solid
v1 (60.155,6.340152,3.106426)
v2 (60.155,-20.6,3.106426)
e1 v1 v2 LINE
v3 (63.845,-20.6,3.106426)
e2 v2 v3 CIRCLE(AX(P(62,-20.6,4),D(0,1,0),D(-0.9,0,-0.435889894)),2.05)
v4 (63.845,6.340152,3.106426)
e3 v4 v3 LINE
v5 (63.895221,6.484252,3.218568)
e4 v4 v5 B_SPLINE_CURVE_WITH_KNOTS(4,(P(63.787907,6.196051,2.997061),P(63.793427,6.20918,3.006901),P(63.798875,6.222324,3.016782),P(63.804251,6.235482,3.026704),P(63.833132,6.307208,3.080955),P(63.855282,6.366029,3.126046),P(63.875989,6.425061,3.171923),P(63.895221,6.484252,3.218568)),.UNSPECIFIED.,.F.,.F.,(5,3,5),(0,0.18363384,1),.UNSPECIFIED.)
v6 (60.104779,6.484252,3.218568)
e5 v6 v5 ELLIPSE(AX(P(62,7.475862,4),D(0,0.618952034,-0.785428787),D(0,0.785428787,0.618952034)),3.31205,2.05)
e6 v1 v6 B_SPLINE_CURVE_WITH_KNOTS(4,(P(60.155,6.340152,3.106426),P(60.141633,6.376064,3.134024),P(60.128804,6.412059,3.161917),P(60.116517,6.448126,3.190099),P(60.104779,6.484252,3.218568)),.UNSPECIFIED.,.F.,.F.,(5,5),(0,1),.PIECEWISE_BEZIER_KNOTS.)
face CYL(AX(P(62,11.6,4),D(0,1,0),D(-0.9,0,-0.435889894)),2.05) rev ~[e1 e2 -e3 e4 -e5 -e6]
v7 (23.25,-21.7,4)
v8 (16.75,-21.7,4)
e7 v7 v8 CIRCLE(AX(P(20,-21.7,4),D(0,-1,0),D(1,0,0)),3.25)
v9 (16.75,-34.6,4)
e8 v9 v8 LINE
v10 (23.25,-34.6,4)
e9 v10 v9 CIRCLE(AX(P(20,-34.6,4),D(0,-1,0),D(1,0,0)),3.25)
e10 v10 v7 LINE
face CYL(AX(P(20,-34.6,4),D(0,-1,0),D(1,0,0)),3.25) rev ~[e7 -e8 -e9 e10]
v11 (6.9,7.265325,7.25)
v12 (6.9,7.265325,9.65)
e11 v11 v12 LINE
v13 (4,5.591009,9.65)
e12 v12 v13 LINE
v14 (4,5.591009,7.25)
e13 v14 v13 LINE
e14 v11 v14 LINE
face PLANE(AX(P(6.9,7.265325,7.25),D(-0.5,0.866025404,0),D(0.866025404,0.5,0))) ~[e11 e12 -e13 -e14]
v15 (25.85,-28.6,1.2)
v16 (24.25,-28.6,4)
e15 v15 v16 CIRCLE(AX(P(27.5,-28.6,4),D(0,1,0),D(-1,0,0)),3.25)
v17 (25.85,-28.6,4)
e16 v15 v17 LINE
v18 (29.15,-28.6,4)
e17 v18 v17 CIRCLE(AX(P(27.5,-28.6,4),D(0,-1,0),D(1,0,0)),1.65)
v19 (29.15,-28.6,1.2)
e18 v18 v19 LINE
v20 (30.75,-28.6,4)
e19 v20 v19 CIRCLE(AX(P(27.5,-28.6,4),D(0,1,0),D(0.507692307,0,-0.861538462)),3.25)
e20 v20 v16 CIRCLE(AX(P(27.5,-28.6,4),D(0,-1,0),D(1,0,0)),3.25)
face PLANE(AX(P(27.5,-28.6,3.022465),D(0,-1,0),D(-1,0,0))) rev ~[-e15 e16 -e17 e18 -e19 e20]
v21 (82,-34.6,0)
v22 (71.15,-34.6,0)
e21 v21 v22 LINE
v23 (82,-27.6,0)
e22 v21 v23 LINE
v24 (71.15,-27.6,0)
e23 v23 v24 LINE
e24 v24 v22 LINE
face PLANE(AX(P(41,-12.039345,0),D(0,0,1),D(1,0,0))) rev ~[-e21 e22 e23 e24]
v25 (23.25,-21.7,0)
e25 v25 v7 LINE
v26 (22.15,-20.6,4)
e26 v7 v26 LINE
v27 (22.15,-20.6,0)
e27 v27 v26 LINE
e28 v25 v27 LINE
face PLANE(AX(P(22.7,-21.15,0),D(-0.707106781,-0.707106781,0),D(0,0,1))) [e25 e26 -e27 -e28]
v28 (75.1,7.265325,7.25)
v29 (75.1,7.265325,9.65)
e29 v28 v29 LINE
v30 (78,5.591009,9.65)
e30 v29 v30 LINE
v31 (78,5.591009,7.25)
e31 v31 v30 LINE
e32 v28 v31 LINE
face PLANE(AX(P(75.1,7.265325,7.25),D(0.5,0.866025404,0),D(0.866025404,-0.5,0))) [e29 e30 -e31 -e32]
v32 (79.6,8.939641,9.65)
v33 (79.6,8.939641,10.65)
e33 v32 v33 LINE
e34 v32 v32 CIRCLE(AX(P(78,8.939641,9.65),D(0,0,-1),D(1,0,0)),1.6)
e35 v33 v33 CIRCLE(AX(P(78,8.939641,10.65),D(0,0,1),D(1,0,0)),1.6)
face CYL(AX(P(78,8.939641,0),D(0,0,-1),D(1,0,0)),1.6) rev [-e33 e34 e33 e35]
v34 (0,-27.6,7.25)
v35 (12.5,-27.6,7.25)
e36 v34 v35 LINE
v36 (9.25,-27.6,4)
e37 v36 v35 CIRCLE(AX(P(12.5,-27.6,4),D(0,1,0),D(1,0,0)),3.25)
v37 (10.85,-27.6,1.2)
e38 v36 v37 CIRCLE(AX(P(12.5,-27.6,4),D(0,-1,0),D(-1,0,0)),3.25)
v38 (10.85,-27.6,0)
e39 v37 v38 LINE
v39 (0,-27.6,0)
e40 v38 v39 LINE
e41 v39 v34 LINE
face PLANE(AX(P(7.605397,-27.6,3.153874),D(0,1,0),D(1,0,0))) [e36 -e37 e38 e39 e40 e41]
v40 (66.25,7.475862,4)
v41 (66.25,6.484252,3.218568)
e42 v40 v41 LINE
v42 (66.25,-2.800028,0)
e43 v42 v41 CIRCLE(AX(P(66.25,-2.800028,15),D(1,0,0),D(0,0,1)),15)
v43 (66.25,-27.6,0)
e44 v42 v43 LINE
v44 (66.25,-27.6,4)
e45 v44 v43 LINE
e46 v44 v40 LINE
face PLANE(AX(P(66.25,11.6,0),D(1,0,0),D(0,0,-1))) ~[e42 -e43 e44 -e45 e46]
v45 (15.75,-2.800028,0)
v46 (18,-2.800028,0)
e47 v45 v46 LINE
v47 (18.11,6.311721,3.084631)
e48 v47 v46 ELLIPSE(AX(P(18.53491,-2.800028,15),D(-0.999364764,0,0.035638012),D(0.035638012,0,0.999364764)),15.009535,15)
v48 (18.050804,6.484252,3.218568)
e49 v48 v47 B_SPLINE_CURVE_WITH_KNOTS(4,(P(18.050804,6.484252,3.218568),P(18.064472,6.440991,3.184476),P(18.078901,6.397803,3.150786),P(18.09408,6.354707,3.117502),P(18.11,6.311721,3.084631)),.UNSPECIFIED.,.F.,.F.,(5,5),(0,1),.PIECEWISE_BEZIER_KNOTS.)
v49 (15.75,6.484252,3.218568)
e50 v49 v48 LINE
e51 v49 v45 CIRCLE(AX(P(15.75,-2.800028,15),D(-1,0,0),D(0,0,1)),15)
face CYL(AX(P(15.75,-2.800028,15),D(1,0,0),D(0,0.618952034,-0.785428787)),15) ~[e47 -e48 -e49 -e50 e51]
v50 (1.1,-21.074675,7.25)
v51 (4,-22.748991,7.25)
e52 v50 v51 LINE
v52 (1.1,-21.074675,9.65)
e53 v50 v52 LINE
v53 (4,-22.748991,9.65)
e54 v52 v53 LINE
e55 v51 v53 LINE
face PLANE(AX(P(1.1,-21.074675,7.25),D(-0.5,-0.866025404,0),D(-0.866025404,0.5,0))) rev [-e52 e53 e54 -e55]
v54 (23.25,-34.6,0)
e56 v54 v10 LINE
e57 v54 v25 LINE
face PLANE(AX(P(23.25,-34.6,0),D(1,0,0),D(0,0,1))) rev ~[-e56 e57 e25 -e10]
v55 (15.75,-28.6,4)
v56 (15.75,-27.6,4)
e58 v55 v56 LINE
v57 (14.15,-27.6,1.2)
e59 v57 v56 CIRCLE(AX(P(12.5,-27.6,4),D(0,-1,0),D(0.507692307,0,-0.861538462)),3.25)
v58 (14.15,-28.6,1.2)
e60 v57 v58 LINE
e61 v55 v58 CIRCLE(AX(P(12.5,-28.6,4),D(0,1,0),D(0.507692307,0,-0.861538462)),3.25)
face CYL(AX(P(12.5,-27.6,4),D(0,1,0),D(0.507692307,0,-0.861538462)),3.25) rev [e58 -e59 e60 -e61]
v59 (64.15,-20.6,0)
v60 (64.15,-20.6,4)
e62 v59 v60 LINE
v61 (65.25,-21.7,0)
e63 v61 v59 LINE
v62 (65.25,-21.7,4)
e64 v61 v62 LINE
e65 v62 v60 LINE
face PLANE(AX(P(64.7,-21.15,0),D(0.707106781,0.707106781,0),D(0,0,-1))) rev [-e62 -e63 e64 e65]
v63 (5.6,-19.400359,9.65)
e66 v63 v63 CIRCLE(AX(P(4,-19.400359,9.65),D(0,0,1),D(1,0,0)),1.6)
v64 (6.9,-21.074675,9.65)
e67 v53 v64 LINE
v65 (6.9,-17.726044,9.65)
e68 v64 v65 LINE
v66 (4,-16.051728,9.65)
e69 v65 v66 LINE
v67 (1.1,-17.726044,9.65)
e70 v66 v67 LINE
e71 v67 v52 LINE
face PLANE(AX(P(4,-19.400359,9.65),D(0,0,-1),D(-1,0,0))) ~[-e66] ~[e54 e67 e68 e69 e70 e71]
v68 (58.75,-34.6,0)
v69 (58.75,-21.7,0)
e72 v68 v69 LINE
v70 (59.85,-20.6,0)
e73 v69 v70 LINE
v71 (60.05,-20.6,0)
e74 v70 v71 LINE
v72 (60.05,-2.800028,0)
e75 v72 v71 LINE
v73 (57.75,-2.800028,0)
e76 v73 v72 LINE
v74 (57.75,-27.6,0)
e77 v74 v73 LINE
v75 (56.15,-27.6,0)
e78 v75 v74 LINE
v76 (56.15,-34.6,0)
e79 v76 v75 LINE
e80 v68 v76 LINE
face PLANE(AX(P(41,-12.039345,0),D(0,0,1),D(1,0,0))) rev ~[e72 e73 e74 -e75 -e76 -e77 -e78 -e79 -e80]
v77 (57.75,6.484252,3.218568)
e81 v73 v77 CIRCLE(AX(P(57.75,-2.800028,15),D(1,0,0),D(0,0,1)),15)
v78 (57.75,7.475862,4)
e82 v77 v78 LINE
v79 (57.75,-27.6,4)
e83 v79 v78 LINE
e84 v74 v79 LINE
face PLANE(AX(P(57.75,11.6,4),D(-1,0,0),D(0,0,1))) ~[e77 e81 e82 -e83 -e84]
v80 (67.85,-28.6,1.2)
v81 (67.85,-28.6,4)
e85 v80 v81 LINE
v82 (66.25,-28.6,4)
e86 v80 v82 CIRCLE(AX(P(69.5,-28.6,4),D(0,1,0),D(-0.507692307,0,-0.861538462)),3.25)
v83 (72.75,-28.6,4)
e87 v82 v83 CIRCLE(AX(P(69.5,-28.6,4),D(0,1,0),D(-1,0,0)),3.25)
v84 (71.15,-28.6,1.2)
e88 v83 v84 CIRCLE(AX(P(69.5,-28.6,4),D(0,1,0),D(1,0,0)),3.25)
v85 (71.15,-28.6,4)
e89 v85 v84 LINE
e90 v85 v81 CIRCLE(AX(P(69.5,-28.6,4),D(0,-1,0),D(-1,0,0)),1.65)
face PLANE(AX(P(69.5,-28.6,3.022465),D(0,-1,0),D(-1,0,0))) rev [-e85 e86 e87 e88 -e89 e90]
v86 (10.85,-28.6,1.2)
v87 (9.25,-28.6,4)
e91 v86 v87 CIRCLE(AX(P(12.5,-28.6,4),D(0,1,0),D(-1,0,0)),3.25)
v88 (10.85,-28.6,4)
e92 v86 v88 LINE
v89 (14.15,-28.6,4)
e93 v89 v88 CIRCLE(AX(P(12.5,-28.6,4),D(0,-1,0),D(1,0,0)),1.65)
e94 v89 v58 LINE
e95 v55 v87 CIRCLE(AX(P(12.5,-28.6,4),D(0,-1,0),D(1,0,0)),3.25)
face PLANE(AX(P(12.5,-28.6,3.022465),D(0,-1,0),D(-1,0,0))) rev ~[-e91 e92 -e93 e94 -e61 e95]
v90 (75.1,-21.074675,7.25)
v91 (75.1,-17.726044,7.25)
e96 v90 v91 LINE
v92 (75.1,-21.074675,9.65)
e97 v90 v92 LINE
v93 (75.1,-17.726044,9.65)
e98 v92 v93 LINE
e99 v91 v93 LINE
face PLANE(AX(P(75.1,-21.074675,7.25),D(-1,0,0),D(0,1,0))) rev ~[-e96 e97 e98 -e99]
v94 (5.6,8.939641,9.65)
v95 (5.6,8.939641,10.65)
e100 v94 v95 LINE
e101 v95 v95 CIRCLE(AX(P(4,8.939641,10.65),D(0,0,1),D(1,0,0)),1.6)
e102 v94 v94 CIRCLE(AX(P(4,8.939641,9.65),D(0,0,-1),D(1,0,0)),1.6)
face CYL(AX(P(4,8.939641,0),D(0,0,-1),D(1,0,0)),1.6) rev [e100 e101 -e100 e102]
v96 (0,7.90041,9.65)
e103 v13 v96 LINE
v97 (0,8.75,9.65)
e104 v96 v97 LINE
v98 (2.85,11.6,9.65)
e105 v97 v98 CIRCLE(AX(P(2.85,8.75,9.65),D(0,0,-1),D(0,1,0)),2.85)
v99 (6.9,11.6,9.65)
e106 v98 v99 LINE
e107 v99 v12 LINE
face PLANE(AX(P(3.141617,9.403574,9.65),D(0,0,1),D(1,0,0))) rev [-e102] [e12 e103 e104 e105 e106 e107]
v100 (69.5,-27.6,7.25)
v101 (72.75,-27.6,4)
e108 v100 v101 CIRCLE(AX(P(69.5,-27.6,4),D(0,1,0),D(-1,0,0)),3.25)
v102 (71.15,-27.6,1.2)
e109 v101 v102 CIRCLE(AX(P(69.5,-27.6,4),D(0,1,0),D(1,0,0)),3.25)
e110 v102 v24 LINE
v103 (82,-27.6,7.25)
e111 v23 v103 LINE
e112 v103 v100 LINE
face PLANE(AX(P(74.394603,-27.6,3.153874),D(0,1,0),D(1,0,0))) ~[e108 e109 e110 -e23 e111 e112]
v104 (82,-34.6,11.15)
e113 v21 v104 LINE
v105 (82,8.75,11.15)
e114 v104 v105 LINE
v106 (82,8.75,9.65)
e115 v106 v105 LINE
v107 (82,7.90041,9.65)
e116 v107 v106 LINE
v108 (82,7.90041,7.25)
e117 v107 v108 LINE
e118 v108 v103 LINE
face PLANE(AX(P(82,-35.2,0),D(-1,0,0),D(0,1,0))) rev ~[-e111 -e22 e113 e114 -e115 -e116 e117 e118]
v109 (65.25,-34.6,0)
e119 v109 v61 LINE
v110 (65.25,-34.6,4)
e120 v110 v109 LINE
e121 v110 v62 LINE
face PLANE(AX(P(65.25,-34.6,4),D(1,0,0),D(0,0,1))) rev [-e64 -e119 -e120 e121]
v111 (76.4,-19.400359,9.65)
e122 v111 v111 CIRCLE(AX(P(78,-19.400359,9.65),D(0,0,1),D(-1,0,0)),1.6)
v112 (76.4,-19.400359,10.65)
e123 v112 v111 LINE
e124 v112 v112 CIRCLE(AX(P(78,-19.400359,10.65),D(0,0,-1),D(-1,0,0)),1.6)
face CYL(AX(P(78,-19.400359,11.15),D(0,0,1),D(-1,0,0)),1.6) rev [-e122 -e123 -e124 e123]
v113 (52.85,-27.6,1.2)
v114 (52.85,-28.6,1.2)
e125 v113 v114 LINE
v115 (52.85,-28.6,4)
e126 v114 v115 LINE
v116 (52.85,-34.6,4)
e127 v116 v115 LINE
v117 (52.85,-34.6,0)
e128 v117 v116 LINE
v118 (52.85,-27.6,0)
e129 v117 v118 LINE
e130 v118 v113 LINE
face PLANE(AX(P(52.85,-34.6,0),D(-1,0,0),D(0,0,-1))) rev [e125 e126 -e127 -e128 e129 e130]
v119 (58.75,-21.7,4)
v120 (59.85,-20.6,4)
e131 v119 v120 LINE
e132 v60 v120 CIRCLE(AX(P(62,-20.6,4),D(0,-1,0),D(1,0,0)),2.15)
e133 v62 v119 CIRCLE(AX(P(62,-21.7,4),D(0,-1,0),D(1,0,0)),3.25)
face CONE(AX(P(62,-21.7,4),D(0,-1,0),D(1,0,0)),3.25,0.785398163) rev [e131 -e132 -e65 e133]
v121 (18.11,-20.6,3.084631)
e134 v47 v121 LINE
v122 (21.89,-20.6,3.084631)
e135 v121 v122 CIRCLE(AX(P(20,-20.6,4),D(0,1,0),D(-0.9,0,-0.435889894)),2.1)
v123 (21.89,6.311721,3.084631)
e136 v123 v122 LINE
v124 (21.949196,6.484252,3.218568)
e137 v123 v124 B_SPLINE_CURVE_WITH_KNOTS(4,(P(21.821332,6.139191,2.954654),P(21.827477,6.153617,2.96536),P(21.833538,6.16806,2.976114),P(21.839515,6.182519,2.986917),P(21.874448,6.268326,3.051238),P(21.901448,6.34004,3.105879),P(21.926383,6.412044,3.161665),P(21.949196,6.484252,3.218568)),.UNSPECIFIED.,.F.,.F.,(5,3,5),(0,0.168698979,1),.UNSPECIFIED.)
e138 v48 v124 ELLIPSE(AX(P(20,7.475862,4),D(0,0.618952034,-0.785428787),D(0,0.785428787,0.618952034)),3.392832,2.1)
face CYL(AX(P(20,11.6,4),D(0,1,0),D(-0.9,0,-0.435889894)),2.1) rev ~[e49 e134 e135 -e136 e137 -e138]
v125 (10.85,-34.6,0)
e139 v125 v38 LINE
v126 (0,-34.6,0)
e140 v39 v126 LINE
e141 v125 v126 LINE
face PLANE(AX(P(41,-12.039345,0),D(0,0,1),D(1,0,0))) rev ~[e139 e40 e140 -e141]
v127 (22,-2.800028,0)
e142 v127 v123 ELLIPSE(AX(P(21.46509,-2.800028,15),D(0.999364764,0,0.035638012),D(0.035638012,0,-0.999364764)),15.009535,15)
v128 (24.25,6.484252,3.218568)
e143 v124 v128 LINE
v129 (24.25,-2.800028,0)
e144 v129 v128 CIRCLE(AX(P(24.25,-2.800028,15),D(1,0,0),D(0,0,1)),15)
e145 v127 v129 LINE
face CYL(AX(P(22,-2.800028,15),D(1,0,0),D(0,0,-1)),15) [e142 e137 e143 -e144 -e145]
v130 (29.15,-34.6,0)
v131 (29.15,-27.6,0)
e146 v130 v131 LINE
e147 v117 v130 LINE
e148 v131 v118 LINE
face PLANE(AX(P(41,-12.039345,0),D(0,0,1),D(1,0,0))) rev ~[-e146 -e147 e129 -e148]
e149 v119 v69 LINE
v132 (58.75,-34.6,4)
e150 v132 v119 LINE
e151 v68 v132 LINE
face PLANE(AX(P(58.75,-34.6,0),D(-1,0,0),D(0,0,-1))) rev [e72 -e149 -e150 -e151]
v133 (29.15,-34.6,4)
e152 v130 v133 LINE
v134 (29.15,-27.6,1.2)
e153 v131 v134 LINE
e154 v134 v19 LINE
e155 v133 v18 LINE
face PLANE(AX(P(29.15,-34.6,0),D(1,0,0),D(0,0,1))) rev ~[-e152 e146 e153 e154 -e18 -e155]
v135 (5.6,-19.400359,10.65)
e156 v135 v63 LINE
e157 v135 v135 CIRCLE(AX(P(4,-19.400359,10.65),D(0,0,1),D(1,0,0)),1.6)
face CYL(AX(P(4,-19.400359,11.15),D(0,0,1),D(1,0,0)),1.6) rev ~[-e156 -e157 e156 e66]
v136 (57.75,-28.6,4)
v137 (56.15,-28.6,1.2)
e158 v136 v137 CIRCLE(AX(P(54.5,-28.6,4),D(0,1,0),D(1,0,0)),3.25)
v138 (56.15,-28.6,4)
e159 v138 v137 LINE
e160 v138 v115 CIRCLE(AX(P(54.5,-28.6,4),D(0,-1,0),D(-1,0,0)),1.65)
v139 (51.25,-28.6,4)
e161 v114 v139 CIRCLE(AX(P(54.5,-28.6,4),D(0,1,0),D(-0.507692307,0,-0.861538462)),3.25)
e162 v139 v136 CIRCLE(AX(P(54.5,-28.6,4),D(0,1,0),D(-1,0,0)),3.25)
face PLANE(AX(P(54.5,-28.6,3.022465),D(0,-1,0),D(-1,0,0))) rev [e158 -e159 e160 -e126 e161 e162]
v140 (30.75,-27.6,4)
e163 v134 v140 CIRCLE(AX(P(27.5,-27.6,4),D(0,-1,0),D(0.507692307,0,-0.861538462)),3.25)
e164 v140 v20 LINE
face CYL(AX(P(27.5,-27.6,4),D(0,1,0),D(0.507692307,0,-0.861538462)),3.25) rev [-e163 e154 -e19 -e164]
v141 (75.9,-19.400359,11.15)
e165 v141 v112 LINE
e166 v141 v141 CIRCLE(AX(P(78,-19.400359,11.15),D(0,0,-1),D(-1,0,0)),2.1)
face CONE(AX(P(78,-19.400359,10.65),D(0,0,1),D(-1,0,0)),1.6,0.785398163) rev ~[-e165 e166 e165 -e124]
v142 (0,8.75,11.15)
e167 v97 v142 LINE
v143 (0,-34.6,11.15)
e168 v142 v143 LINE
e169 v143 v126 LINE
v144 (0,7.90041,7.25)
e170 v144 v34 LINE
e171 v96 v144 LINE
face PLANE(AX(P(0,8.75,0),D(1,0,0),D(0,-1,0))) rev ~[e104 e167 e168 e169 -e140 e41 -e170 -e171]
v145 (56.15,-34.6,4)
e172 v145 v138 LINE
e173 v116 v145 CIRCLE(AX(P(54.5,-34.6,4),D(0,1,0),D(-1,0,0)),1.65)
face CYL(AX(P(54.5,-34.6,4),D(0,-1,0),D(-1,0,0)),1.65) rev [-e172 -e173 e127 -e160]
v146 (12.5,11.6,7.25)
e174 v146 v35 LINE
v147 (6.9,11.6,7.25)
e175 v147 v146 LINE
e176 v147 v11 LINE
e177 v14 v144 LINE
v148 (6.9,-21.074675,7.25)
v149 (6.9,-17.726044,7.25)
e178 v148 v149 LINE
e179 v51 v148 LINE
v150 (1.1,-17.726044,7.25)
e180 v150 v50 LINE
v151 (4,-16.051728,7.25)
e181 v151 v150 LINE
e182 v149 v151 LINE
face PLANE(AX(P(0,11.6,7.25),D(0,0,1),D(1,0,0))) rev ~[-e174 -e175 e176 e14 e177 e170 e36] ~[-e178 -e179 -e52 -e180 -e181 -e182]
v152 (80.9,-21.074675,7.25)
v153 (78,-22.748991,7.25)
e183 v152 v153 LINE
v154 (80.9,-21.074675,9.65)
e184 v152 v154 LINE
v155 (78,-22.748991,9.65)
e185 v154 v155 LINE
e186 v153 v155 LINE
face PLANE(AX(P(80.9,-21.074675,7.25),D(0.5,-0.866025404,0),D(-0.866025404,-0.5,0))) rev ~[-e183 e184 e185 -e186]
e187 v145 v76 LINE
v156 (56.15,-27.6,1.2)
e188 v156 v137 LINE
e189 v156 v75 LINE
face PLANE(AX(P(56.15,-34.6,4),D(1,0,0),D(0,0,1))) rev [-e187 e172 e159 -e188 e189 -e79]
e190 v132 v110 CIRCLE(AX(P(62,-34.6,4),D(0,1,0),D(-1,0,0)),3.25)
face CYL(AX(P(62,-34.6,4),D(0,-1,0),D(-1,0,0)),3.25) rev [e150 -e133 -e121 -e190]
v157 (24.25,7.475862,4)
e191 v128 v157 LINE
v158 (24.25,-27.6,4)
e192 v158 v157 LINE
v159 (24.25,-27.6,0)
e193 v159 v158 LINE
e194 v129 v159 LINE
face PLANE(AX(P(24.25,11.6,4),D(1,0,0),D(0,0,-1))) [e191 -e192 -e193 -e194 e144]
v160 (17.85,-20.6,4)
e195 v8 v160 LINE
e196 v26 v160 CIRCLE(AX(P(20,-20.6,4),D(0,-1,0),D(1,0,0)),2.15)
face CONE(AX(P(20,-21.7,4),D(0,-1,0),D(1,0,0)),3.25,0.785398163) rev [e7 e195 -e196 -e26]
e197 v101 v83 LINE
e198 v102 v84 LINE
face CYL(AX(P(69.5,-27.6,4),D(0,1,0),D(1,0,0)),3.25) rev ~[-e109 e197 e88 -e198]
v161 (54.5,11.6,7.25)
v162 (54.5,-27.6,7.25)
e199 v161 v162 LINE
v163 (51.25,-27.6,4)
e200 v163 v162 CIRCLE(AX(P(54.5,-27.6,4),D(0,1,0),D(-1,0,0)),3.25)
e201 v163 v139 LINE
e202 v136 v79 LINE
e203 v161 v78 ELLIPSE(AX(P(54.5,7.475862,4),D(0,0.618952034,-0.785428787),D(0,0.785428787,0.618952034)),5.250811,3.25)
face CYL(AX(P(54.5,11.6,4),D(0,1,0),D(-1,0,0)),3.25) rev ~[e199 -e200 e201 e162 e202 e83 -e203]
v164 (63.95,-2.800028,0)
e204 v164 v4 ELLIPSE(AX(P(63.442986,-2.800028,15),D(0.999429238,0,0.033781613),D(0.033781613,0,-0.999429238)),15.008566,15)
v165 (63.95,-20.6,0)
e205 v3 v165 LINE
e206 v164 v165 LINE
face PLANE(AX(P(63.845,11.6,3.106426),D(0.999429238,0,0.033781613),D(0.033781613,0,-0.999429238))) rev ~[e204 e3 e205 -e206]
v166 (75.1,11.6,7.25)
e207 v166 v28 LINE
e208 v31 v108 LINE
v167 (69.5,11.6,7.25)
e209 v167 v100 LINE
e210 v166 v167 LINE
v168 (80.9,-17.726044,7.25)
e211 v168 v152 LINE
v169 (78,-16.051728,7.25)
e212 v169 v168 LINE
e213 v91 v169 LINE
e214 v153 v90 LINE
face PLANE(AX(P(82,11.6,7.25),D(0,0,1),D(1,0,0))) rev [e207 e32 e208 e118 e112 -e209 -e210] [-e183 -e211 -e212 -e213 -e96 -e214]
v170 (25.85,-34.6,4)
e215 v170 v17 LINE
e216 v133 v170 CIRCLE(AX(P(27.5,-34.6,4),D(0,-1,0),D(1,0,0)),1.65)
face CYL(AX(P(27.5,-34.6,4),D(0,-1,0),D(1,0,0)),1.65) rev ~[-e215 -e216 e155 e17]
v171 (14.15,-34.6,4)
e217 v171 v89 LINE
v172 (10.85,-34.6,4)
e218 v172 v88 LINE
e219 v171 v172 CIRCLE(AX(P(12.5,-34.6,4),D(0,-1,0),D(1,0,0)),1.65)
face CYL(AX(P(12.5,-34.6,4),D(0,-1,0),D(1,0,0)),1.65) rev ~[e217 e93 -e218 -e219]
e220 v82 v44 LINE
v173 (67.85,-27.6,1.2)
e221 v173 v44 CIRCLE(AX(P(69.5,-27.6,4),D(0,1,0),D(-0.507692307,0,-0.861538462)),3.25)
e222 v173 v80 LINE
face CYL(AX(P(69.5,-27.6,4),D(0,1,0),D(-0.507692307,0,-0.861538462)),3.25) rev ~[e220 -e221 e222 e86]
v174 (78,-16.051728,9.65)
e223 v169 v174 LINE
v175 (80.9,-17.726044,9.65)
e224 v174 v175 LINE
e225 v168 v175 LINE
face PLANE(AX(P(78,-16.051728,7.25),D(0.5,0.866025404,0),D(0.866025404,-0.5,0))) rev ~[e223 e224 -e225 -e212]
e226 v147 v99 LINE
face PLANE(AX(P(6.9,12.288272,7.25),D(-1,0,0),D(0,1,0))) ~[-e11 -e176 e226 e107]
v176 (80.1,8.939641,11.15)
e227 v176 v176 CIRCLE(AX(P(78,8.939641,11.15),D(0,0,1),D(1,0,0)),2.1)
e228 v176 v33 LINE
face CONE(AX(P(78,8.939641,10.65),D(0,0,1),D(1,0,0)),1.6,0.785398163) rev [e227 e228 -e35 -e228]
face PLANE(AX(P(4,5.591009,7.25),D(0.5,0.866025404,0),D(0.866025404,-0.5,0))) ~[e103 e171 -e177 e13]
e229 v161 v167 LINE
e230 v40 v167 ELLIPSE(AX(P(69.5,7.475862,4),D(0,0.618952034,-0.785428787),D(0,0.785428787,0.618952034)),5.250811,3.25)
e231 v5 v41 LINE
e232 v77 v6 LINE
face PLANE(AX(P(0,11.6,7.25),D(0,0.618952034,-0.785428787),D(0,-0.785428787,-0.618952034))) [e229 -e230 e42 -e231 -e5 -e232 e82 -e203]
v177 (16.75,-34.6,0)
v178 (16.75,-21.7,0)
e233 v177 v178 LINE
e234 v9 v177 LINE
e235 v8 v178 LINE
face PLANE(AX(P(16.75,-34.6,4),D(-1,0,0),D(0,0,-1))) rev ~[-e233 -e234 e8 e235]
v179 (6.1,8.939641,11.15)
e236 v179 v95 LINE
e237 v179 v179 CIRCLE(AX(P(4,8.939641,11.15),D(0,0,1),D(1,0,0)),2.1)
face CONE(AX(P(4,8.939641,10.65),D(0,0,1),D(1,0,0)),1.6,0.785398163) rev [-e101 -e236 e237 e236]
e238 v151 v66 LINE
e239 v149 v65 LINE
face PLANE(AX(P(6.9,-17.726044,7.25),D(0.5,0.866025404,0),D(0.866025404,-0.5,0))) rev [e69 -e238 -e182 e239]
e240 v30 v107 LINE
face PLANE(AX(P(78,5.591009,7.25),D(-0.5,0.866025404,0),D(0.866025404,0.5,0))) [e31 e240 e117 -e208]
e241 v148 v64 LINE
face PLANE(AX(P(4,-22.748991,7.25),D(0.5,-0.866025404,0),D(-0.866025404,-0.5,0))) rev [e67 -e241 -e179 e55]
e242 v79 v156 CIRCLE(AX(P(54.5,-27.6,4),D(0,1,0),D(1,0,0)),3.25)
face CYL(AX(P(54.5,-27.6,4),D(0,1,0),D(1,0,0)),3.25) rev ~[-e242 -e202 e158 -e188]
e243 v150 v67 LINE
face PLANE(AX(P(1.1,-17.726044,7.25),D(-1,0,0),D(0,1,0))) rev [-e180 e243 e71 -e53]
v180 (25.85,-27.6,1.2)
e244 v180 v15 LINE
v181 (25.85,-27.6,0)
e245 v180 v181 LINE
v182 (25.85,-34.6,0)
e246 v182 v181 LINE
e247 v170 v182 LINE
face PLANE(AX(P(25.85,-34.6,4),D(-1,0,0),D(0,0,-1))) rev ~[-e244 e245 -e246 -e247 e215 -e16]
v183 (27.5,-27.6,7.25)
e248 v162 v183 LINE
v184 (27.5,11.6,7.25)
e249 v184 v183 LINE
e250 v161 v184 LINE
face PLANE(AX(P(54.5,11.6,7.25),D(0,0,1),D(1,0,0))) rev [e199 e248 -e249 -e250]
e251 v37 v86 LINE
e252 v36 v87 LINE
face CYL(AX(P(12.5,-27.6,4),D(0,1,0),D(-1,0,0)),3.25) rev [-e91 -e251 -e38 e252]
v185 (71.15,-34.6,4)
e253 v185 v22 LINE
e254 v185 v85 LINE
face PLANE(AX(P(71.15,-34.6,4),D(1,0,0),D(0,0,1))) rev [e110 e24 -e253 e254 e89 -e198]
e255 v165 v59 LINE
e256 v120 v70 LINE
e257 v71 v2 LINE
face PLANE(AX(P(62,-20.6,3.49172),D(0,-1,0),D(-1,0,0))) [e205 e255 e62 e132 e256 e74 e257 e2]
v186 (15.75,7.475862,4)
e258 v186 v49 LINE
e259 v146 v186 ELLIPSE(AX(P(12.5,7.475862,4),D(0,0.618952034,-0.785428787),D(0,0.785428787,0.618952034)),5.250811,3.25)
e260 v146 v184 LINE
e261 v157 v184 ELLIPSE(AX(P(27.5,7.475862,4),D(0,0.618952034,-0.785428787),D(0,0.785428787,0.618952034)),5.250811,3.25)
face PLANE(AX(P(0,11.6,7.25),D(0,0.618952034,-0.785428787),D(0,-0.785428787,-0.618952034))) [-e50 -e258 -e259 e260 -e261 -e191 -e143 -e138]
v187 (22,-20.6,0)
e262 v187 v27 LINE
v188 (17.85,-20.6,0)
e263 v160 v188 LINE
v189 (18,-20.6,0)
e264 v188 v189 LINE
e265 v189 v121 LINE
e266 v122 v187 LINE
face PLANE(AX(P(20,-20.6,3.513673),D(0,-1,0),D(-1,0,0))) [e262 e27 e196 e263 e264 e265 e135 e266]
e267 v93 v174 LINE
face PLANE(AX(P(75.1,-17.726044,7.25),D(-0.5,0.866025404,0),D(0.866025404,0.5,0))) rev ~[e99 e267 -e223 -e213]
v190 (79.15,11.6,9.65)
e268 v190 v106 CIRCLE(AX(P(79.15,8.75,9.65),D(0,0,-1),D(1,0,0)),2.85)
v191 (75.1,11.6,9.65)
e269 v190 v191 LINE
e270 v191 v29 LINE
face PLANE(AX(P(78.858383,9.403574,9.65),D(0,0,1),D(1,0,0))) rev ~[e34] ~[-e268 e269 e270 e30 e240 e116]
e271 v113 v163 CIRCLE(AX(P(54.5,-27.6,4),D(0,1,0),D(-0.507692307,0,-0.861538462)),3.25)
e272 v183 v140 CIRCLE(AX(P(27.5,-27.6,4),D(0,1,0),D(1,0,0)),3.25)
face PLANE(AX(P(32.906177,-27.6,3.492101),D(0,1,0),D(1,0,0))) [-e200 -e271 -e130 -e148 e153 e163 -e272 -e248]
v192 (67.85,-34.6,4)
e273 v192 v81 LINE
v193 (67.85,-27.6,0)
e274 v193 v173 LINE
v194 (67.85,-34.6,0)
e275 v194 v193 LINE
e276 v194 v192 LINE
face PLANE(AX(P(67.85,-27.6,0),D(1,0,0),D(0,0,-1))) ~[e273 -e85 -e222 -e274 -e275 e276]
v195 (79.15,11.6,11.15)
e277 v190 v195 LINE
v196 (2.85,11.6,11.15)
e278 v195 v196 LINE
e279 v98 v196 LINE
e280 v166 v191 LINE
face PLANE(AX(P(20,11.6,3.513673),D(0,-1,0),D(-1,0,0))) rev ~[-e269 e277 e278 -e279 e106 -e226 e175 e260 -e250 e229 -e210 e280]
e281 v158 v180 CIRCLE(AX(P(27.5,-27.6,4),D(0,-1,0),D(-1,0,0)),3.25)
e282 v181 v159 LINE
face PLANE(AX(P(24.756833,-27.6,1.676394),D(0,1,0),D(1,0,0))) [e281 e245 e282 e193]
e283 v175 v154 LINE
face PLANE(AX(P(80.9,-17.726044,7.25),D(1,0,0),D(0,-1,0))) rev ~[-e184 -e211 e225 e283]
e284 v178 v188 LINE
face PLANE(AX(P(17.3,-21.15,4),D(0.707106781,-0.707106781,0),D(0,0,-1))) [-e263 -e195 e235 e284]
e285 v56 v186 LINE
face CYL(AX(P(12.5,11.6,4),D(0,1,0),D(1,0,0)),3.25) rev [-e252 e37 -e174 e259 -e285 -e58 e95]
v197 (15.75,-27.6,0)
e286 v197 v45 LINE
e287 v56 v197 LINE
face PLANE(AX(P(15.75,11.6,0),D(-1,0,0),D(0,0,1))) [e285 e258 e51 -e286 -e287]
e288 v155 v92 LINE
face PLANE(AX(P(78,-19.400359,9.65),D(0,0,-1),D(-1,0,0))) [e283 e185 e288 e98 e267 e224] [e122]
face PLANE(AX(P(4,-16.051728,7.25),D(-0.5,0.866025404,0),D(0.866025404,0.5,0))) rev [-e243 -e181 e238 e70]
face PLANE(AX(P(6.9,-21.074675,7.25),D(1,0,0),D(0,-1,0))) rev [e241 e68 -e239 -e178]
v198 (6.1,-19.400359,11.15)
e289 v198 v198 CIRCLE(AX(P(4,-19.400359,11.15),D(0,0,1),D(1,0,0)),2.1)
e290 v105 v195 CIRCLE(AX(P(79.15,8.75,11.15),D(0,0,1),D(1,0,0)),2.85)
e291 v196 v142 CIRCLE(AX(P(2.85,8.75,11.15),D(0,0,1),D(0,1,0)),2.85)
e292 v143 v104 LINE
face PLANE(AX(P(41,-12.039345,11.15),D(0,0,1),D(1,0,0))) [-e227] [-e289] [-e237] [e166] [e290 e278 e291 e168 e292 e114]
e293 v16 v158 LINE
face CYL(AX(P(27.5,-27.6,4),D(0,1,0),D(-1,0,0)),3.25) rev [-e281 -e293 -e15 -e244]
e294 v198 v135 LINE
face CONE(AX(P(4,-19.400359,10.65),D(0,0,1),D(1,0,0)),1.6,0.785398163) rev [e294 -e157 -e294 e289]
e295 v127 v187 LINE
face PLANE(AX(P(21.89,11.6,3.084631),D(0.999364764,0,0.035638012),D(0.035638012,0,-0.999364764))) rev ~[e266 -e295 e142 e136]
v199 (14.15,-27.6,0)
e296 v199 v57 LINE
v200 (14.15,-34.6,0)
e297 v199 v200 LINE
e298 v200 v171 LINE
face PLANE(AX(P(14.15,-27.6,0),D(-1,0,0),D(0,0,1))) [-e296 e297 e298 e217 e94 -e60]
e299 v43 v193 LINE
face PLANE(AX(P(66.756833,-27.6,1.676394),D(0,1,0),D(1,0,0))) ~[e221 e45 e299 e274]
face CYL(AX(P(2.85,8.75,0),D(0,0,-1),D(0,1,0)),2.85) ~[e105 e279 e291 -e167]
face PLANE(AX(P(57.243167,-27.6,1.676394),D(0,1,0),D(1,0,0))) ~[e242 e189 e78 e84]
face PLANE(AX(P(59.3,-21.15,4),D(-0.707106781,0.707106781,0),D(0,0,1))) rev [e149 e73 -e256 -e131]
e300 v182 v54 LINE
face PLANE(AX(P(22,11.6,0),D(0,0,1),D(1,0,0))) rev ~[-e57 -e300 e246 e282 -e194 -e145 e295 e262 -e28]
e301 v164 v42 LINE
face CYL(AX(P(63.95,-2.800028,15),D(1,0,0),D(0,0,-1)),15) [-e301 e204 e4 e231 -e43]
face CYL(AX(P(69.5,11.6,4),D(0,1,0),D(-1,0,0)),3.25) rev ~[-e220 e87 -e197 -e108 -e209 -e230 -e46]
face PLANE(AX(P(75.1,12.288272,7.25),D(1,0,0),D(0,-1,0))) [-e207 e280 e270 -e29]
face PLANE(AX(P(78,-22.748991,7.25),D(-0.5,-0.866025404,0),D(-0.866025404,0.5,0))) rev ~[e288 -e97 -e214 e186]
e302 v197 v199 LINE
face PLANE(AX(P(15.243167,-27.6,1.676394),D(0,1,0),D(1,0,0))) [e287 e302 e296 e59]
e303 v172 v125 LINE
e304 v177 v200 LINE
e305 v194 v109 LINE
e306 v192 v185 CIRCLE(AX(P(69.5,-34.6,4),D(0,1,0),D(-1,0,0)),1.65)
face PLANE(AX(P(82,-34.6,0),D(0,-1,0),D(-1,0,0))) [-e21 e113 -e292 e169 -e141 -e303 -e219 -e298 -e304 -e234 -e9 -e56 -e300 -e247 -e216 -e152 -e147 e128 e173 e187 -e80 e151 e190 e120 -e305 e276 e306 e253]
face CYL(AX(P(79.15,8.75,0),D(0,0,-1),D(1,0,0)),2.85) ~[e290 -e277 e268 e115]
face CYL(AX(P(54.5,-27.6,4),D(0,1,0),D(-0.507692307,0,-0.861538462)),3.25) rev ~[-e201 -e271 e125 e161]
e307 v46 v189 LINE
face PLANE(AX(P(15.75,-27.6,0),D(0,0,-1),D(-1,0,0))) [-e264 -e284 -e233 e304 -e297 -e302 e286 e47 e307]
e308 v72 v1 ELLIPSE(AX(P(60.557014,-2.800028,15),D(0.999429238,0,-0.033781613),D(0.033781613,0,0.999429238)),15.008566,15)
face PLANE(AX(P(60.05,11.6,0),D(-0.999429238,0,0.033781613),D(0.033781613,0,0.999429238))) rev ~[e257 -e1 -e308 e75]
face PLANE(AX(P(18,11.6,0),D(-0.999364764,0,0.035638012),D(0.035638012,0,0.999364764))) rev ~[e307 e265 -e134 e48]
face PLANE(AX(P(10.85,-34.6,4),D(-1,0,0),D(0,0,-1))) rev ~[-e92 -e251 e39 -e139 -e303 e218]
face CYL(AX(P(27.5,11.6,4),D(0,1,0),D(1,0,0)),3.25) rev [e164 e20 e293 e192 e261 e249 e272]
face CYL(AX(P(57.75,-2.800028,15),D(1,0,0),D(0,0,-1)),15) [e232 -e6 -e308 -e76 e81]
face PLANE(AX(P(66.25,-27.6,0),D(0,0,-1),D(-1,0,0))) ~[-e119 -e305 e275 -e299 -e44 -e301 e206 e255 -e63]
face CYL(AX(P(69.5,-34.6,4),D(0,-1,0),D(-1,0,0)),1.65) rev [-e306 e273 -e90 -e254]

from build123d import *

# Parameters (mm, degrees)
SKETCH1_R                = 1.6
BOSS_EXTRUDE1_DEPTH      = 11.15
SKETCH2_W                = 82
SKETCH2_H                = 0.6
CUT_EXTRUDE1_DEPTH       = 8
CUT_EXTRUDE2_DEPTH       = 46.2
CUT_EXTRUDE3_DEPTH       = 40.2
CUT_EXTRUDE5_DEPTH       = 39.2
BOSS_EXTRUDE2_DEPTH      = 32.2
CHAMFER3_SIZE            = 1.1
CHAMFER4_SIZE            = 1.1
CUT_EXTRUDE12_DEPTH      = 1
CUT_EXTRUDE12_DEPTH_BACK = 83
FILLET3_R                = 15
SKETCH14_R               = 1.6
CUT_EXTRUDE14_DEPTH      = 12.1500001
BOSS_EXTRUDE3_DEPTH      = 3.5
SKETCH8_W                = 82
SKETCH8_H                = 0.6
CUT_EXTRUDE16_DEPTH      = 4.15
CUT_EXTRUDE17_DEPTH      = 2.4
CHAMFER5_SIZE            = 0.5


with BuildPart() as part:
    # Sketch1 → Boss-Extrude1 (new body)
    with BuildSketch(Plane.XY):
        with BuildLine():
            Line((0, -35.2), (82, -35.2))
            Line((82, -35.2), (82, 8.75))
            ThreePointArc((82, 8.75), (81.165254326, 10.765254326), (79.15, 11.6))
            Line((79.15, 11.6), (2.85, 11.6))
            ThreePointArc((2.85, 11.6), (0.834745674, 10.765254326), (0, 8.75))
            Line((0, 8.75), (0, -35.2))
        make_face()
        with Locations((4, 8.939640599)):
            Circle(SKETCH1_R, mode=Mode.SUBTRACT)
        with Locations((78, 8.939640599)):
            Circle(SKETCH1_R, mode=Mode.SUBTRACT)
    extrude(amount=BOSS_EXTRUDE1_DEPTH)

    # Sketch2 → Cut-Extrude1 (cut)
    with BuildSketch(Plane(origin=(0, 0, 0), x_dir=(-1, 0, 0), z_dir=(0, 0, -1))):
        with Locations((-41, -34.9)):
            Rectangle(SKETCH2_W, SKETCH2_H)
    cut_extrude1 = extrude(amount=-CUT_EXTRUDE1_DEPTH, mode=Mode.SUBTRACT)

    # Sketch3 → Cut-Extrude2 (cut)
    with BuildSketch(Plane.XZ.offset(34.6)):
        with BuildLine():
            Line((25.85, 4), (25.85, 0))
            Line((25.85, 0), (29.15, 0))
            Line((29.15, 0), (29.15, 4))
            ThreePointArc((29.15, 4), (27.5, 5.65), (25.85, 4))
        make_face()
        with BuildLine():
            ThreePointArc((14.15, 4), (12.5, 5.65), (10.85, 4))
            Line((10.85, 4), (10.85, 0))
            Line((10.85, 0), (14.15, 0))
            Line((14.15, 0), (14.15, 4))
        make_face()
        with BuildLine():
            ThreePointArc((23.25, 4), (20, 7.25), (16.75, 4))
            Line((16.75, 4), (16.75, 0))
            Line((16.75, 0), (23.25, 0))
            Line((23.25, 0), (23.25, 4))
        make_face()
    cut_extrude2 = extrude(amount=-CUT_EXTRUDE2_DEPTH, mode=Mode.SUBTRACT)

    # Sketch4 → Cut-Extrude3 (cut)
    with BuildSketch(Plane(origin=(0, 11.6, 0), x_dir=(1, 0, 0), z_dir=(0, 1, 0))):
        with BuildLine():
            Line((9.25, -4), (9.25, 0))
            Line((9.25, 0), (15.75, 0))
            Line((15.75, 0), (15.75, -4))
            ThreePointArc((15.75, -4), (12.5, -7.25), (9.25, -4))
        make_face()
        with BuildLine():
            Line((24.25, -4), (24.25, 0))
            Line((24.25, 0), (30.75, 0))
            Line((30.75, 0), (30.75, -4))
            ThreePointArc((30.75, -4), (27.5, -7.25), (24.25, -4))
        make_face()
    cut_extrude3 = extrude(amount=-CUT_EXTRUDE3_DEPTH, mode=Mode.SUBTRACT)

    # Sketch6 → Cut-Extrude5 (cut)
    with BuildSketch(Plane(origin=(0, 11.6, 0), x_dir=(1, 0, 0), z_dir=(0, 1, 0))):
        with BuildLine():
            Line((15.75, -4), (15.75, 0))
            Line((15.75, 0), (15.75, 0.65176216))
            Line((15.75, 0.65176216), (0, 0.65176216))
            Line((0, 0.65176216), (0, -7.25))
            Line((0, -7.25), (12.5, -7.25))
            ThreePointArc((12.5, -7.25), (14.798097039, -6.298097039), (15.75, -4))
        make_face()
        with BuildLine():
            Line((24.25, 0), (24.25, -4))
            ThreePointArc((24.25, -4), (25.201902961, -6.298097039), (27.5, -7.25))
            Line((27.5, -7.25), (41, -7.25))
            Line((41, -7.25), (41, 0))
            Line((41, 0), (24.25, 0))
        make_face()
    cut_extrude5 = extrude(amount=-CUT_EXTRUDE5_DEPTH, mode=Mode.SUBTRACT)

    # Mirror1: Cut-Extrude1, Cut-Extrude2, Cut-Extrude3, Cut-Extrude5 across plane
    add(cut_extrude1.mirror(Plane.ZY.offset(-41)), mode=Mode.SUBTRACT)
    add(cut_extrude2.mirror(Plane.ZY.offset(-41)), mode=Mode.SUBTRACT)
    add(cut_extrude3.mirror(Plane.ZY.offset(-41)), mode=Mode.SUBTRACT)
    add(cut_extrude5.mirror(Plane.ZY.offset(-41)), mode=Mode.SUBTRACT)

    # Sketch12 → Boss-Extrude2 (add)
    with BuildSketch(Plane(origin=(0, 11.6, 0), x_dir=(1, 0, 0), z_dir=(0, 1, 0))):
        with BuildLine():
            Line((16.75, -4), (16.75, 0))
            Line((16.75, 0), (18, 0))
            Line((18, 0), (18.11, -3.084631222))
            ThreePointArc((18.11, -3.084631222), (20, -6.1), (21.89, -3.084631222))
            Line((21.89, -3.084631222), (22, 0))
            Line((22, 0), (23.25, 0))
            Line((23.25, 0), (23.25, -4))
            ThreePointArc((23.25, -4), (20, -7.25), (16.75, -4))
        make_face()
        with BuildLine():
            Line((58.75, -4), (58.75, 0))
            Line((58.75, 0), (60.05, 0))
            Line((60.05, 0), (60.155, -3.106425717))
            ThreePointArc((60.155, -3.106425717), (62, -6.05), (63.845, -3.106425717))
            Line((63.845, -3.106425717), (63.95, 0))
            Line((63.95, 0), (65.25, 0))
            Line((65.25, 0), (65.25, -4))
            ThreePointArc((65.25, -4), (62, -7.25), (58.75, -4))
        make_face()
    extrude(amount=-BOSS_EXTRUDE2_DEPTH)

    # Chamfer3
    chamfer3_edges = [part.edges().sort_by_distance(p)[0] for p in [
        (65.25, -20.6, 2),
        (58.75, -20.6, 2),
        (62, -20.6, 7.25),
    ]]
    chamfer(chamfer3_edges, length=CHAMFER3_SIZE)

    # Chamfer4
    chamfer4_edges = [part.edges().sort_by_distance(p)[0] for p in [
        (23.25, -20.6, 2),
        (16.75, -20.6, 2),
        (20, -20.6, 7.25),
    ]]
    chamfer(chamfer4_edges, length=CHAMFER4_SIZE)

    # Sketch9 → Cut-Extrude12 (cut, two sides)
    with BuildSketch(Plane.ZY) as cut_extrude12_sk:
        Polygon((-106.219800457, 11.6), (0, 11.6), (7.25, 11.6), (0, 2.4), (-65.744961499, -81.028089075), (-260.411588221, -166.089763625), (-300.886427179, -73.46167455), align=None)
    extrude(amount=CUT_EXTRUDE12_DEPTH, mode=Mode.SUBTRACT)
    extrude(cut_extrude12_sk.sketch, amount=-CUT_EXTRUDE12_DEPTH_BACK, mode=Mode.SUBTRACT)

    # Fillet3
    fillet3_edges = [part.edges().sort_by_distance(p)[0] for p in [
        (16.875, 2.4, 0),
        (23.125, 2.4, 0),
        (58.9, 2.4, 0),
        (65.1, 2.4, 0),
    ]]
    fillet(fillet3_edges, radius=FILLET3_R)

    # Sketch14 → Cut-Extrude14 (cut, through all)
    with BuildSketch(Plane.XY.offset(11.15)):
        with Locations((4, -19.400359401)):
            Circle(SKETCH14_R)
    cut_extrude14 = extrude(amount=-CUT_EXTRUDE14_DEPTH, mode=Mode.SUBTRACT)

    # Mirror3: Cut-Extrude14 across plane
    add(cut_extrude14.mirror(Plane.ZY.offset(-41)), mode=Mode.SUBTRACT)

    # Sketch18 → Boss-Extrude3 (add)
    with BuildSketch(Plane(origin=(0, -27.6, 0), x_dir=(1, 0, 0), z_dir=(0, 1, 0))):
        with BuildLine():
            Line((14.15, 0), (14.15, -1.2))
            ThreePointArc((14.15, -1.2), (15.321790212, -2.38754845), (15.75, -4))
            Line((15.75, -4), (15.75, 0))
            Line((15.75, 0), (14.15, 0))
        make_face()
        with BuildLine():
            Line((10.85, -1.2), (10.85, 0))
            Line((10.85, 0), (9.25, 0))
            Line((9.25, 0), (9.25, -4))
            ThreePointArc((9.25, -4), (9.678209788, -2.38754845), (10.85, -1.2))
        make_face()
        with BuildLine():
            Line((29.15, 0), (29.15, -1.2))
            ThreePointArc((29.15, -1.2), (30.321790212, -2.38754845), (30.75, -4))
            Line((30.75, -4), (30.75, 0))
            Line((30.75, 0), (29.15, 0))
        make_face()
        with BuildLine():
            Line((25.85, -1.2), (25.85, 0))
            Line((25.85, 0), (24.25, 0))
            Line((24.25, 0), (24.25, -4))
            ThreePointArc((24.25, -4), (24.678209788, -2.38754845), (25.85, -1.2))
        make_face()
    boss_extrude3 = extrude(amount=-BOSS_EXTRUDE3_DEPTH)

    # Mirror5: Boss-Extrude3 across plane
    add(boss_extrude3.mirror(Plane.ZY.offset(-41)))

    # Sketch8 → Cut-Extrude16 (cut, through all)
    with BuildSketch(Plane(origin=(0, 0, 8), x_dir=(-1, 0, 0), z_dir=(0, 0, -1))):
        with Locations((-41, -34.9)):
            Rectangle(SKETCH8_W, SKETCH8_H)
    extrude(amount=-CUT_EXTRUDE16_DEPTH, mode=Mode.SUBTRACT)

    # Sketch20 → Cut-Extrude17 (cut)
    with BuildSketch(Plane(origin=(0, 0, 7.25), x_dir=(-1, 0, 0), z_dir=(0, 0, -1))):
        Polygon((-80.9, 12.288272161), (-75.1, 12.288272161), (-75.1, 7.265324819), (-78, 5.591009038), (-84.071495483, 9.096388589), align=None)
        Polygon((-75.1, -21.074675181), (-75.1, -17.72604362), (-78, -16.051727839), (-80.9, -17.72604362), (-80.9, -21.074675181), (-78, -22.748990962), align=None)
    cut_extrude17 = extrude(amount=-CUT_EXTRUDE17_DEPTH, mode=Mode.SUBTRACT)

    # Mirror7: Cut-Extrude17 across plane
    add(cut_extrude17.mirror(Plane.ZY.offset(-41)), mode=Mode.SUBTRACT)

    # Chamfer5
    chamfer5_edges = [part.edges().sort_by_distance(p)[0] for p in [
        (2.4, 8.939640599, 11.15),
        (76.4, 8.939640599, 11.15),
        (2.4, -19.400359401, 11.15),
        (79.6, -19.400359401, 11.15),
    ]]
    chamfer(chamfer5_edges, length=CHAMFER5_SIZE)


solid = part.part
